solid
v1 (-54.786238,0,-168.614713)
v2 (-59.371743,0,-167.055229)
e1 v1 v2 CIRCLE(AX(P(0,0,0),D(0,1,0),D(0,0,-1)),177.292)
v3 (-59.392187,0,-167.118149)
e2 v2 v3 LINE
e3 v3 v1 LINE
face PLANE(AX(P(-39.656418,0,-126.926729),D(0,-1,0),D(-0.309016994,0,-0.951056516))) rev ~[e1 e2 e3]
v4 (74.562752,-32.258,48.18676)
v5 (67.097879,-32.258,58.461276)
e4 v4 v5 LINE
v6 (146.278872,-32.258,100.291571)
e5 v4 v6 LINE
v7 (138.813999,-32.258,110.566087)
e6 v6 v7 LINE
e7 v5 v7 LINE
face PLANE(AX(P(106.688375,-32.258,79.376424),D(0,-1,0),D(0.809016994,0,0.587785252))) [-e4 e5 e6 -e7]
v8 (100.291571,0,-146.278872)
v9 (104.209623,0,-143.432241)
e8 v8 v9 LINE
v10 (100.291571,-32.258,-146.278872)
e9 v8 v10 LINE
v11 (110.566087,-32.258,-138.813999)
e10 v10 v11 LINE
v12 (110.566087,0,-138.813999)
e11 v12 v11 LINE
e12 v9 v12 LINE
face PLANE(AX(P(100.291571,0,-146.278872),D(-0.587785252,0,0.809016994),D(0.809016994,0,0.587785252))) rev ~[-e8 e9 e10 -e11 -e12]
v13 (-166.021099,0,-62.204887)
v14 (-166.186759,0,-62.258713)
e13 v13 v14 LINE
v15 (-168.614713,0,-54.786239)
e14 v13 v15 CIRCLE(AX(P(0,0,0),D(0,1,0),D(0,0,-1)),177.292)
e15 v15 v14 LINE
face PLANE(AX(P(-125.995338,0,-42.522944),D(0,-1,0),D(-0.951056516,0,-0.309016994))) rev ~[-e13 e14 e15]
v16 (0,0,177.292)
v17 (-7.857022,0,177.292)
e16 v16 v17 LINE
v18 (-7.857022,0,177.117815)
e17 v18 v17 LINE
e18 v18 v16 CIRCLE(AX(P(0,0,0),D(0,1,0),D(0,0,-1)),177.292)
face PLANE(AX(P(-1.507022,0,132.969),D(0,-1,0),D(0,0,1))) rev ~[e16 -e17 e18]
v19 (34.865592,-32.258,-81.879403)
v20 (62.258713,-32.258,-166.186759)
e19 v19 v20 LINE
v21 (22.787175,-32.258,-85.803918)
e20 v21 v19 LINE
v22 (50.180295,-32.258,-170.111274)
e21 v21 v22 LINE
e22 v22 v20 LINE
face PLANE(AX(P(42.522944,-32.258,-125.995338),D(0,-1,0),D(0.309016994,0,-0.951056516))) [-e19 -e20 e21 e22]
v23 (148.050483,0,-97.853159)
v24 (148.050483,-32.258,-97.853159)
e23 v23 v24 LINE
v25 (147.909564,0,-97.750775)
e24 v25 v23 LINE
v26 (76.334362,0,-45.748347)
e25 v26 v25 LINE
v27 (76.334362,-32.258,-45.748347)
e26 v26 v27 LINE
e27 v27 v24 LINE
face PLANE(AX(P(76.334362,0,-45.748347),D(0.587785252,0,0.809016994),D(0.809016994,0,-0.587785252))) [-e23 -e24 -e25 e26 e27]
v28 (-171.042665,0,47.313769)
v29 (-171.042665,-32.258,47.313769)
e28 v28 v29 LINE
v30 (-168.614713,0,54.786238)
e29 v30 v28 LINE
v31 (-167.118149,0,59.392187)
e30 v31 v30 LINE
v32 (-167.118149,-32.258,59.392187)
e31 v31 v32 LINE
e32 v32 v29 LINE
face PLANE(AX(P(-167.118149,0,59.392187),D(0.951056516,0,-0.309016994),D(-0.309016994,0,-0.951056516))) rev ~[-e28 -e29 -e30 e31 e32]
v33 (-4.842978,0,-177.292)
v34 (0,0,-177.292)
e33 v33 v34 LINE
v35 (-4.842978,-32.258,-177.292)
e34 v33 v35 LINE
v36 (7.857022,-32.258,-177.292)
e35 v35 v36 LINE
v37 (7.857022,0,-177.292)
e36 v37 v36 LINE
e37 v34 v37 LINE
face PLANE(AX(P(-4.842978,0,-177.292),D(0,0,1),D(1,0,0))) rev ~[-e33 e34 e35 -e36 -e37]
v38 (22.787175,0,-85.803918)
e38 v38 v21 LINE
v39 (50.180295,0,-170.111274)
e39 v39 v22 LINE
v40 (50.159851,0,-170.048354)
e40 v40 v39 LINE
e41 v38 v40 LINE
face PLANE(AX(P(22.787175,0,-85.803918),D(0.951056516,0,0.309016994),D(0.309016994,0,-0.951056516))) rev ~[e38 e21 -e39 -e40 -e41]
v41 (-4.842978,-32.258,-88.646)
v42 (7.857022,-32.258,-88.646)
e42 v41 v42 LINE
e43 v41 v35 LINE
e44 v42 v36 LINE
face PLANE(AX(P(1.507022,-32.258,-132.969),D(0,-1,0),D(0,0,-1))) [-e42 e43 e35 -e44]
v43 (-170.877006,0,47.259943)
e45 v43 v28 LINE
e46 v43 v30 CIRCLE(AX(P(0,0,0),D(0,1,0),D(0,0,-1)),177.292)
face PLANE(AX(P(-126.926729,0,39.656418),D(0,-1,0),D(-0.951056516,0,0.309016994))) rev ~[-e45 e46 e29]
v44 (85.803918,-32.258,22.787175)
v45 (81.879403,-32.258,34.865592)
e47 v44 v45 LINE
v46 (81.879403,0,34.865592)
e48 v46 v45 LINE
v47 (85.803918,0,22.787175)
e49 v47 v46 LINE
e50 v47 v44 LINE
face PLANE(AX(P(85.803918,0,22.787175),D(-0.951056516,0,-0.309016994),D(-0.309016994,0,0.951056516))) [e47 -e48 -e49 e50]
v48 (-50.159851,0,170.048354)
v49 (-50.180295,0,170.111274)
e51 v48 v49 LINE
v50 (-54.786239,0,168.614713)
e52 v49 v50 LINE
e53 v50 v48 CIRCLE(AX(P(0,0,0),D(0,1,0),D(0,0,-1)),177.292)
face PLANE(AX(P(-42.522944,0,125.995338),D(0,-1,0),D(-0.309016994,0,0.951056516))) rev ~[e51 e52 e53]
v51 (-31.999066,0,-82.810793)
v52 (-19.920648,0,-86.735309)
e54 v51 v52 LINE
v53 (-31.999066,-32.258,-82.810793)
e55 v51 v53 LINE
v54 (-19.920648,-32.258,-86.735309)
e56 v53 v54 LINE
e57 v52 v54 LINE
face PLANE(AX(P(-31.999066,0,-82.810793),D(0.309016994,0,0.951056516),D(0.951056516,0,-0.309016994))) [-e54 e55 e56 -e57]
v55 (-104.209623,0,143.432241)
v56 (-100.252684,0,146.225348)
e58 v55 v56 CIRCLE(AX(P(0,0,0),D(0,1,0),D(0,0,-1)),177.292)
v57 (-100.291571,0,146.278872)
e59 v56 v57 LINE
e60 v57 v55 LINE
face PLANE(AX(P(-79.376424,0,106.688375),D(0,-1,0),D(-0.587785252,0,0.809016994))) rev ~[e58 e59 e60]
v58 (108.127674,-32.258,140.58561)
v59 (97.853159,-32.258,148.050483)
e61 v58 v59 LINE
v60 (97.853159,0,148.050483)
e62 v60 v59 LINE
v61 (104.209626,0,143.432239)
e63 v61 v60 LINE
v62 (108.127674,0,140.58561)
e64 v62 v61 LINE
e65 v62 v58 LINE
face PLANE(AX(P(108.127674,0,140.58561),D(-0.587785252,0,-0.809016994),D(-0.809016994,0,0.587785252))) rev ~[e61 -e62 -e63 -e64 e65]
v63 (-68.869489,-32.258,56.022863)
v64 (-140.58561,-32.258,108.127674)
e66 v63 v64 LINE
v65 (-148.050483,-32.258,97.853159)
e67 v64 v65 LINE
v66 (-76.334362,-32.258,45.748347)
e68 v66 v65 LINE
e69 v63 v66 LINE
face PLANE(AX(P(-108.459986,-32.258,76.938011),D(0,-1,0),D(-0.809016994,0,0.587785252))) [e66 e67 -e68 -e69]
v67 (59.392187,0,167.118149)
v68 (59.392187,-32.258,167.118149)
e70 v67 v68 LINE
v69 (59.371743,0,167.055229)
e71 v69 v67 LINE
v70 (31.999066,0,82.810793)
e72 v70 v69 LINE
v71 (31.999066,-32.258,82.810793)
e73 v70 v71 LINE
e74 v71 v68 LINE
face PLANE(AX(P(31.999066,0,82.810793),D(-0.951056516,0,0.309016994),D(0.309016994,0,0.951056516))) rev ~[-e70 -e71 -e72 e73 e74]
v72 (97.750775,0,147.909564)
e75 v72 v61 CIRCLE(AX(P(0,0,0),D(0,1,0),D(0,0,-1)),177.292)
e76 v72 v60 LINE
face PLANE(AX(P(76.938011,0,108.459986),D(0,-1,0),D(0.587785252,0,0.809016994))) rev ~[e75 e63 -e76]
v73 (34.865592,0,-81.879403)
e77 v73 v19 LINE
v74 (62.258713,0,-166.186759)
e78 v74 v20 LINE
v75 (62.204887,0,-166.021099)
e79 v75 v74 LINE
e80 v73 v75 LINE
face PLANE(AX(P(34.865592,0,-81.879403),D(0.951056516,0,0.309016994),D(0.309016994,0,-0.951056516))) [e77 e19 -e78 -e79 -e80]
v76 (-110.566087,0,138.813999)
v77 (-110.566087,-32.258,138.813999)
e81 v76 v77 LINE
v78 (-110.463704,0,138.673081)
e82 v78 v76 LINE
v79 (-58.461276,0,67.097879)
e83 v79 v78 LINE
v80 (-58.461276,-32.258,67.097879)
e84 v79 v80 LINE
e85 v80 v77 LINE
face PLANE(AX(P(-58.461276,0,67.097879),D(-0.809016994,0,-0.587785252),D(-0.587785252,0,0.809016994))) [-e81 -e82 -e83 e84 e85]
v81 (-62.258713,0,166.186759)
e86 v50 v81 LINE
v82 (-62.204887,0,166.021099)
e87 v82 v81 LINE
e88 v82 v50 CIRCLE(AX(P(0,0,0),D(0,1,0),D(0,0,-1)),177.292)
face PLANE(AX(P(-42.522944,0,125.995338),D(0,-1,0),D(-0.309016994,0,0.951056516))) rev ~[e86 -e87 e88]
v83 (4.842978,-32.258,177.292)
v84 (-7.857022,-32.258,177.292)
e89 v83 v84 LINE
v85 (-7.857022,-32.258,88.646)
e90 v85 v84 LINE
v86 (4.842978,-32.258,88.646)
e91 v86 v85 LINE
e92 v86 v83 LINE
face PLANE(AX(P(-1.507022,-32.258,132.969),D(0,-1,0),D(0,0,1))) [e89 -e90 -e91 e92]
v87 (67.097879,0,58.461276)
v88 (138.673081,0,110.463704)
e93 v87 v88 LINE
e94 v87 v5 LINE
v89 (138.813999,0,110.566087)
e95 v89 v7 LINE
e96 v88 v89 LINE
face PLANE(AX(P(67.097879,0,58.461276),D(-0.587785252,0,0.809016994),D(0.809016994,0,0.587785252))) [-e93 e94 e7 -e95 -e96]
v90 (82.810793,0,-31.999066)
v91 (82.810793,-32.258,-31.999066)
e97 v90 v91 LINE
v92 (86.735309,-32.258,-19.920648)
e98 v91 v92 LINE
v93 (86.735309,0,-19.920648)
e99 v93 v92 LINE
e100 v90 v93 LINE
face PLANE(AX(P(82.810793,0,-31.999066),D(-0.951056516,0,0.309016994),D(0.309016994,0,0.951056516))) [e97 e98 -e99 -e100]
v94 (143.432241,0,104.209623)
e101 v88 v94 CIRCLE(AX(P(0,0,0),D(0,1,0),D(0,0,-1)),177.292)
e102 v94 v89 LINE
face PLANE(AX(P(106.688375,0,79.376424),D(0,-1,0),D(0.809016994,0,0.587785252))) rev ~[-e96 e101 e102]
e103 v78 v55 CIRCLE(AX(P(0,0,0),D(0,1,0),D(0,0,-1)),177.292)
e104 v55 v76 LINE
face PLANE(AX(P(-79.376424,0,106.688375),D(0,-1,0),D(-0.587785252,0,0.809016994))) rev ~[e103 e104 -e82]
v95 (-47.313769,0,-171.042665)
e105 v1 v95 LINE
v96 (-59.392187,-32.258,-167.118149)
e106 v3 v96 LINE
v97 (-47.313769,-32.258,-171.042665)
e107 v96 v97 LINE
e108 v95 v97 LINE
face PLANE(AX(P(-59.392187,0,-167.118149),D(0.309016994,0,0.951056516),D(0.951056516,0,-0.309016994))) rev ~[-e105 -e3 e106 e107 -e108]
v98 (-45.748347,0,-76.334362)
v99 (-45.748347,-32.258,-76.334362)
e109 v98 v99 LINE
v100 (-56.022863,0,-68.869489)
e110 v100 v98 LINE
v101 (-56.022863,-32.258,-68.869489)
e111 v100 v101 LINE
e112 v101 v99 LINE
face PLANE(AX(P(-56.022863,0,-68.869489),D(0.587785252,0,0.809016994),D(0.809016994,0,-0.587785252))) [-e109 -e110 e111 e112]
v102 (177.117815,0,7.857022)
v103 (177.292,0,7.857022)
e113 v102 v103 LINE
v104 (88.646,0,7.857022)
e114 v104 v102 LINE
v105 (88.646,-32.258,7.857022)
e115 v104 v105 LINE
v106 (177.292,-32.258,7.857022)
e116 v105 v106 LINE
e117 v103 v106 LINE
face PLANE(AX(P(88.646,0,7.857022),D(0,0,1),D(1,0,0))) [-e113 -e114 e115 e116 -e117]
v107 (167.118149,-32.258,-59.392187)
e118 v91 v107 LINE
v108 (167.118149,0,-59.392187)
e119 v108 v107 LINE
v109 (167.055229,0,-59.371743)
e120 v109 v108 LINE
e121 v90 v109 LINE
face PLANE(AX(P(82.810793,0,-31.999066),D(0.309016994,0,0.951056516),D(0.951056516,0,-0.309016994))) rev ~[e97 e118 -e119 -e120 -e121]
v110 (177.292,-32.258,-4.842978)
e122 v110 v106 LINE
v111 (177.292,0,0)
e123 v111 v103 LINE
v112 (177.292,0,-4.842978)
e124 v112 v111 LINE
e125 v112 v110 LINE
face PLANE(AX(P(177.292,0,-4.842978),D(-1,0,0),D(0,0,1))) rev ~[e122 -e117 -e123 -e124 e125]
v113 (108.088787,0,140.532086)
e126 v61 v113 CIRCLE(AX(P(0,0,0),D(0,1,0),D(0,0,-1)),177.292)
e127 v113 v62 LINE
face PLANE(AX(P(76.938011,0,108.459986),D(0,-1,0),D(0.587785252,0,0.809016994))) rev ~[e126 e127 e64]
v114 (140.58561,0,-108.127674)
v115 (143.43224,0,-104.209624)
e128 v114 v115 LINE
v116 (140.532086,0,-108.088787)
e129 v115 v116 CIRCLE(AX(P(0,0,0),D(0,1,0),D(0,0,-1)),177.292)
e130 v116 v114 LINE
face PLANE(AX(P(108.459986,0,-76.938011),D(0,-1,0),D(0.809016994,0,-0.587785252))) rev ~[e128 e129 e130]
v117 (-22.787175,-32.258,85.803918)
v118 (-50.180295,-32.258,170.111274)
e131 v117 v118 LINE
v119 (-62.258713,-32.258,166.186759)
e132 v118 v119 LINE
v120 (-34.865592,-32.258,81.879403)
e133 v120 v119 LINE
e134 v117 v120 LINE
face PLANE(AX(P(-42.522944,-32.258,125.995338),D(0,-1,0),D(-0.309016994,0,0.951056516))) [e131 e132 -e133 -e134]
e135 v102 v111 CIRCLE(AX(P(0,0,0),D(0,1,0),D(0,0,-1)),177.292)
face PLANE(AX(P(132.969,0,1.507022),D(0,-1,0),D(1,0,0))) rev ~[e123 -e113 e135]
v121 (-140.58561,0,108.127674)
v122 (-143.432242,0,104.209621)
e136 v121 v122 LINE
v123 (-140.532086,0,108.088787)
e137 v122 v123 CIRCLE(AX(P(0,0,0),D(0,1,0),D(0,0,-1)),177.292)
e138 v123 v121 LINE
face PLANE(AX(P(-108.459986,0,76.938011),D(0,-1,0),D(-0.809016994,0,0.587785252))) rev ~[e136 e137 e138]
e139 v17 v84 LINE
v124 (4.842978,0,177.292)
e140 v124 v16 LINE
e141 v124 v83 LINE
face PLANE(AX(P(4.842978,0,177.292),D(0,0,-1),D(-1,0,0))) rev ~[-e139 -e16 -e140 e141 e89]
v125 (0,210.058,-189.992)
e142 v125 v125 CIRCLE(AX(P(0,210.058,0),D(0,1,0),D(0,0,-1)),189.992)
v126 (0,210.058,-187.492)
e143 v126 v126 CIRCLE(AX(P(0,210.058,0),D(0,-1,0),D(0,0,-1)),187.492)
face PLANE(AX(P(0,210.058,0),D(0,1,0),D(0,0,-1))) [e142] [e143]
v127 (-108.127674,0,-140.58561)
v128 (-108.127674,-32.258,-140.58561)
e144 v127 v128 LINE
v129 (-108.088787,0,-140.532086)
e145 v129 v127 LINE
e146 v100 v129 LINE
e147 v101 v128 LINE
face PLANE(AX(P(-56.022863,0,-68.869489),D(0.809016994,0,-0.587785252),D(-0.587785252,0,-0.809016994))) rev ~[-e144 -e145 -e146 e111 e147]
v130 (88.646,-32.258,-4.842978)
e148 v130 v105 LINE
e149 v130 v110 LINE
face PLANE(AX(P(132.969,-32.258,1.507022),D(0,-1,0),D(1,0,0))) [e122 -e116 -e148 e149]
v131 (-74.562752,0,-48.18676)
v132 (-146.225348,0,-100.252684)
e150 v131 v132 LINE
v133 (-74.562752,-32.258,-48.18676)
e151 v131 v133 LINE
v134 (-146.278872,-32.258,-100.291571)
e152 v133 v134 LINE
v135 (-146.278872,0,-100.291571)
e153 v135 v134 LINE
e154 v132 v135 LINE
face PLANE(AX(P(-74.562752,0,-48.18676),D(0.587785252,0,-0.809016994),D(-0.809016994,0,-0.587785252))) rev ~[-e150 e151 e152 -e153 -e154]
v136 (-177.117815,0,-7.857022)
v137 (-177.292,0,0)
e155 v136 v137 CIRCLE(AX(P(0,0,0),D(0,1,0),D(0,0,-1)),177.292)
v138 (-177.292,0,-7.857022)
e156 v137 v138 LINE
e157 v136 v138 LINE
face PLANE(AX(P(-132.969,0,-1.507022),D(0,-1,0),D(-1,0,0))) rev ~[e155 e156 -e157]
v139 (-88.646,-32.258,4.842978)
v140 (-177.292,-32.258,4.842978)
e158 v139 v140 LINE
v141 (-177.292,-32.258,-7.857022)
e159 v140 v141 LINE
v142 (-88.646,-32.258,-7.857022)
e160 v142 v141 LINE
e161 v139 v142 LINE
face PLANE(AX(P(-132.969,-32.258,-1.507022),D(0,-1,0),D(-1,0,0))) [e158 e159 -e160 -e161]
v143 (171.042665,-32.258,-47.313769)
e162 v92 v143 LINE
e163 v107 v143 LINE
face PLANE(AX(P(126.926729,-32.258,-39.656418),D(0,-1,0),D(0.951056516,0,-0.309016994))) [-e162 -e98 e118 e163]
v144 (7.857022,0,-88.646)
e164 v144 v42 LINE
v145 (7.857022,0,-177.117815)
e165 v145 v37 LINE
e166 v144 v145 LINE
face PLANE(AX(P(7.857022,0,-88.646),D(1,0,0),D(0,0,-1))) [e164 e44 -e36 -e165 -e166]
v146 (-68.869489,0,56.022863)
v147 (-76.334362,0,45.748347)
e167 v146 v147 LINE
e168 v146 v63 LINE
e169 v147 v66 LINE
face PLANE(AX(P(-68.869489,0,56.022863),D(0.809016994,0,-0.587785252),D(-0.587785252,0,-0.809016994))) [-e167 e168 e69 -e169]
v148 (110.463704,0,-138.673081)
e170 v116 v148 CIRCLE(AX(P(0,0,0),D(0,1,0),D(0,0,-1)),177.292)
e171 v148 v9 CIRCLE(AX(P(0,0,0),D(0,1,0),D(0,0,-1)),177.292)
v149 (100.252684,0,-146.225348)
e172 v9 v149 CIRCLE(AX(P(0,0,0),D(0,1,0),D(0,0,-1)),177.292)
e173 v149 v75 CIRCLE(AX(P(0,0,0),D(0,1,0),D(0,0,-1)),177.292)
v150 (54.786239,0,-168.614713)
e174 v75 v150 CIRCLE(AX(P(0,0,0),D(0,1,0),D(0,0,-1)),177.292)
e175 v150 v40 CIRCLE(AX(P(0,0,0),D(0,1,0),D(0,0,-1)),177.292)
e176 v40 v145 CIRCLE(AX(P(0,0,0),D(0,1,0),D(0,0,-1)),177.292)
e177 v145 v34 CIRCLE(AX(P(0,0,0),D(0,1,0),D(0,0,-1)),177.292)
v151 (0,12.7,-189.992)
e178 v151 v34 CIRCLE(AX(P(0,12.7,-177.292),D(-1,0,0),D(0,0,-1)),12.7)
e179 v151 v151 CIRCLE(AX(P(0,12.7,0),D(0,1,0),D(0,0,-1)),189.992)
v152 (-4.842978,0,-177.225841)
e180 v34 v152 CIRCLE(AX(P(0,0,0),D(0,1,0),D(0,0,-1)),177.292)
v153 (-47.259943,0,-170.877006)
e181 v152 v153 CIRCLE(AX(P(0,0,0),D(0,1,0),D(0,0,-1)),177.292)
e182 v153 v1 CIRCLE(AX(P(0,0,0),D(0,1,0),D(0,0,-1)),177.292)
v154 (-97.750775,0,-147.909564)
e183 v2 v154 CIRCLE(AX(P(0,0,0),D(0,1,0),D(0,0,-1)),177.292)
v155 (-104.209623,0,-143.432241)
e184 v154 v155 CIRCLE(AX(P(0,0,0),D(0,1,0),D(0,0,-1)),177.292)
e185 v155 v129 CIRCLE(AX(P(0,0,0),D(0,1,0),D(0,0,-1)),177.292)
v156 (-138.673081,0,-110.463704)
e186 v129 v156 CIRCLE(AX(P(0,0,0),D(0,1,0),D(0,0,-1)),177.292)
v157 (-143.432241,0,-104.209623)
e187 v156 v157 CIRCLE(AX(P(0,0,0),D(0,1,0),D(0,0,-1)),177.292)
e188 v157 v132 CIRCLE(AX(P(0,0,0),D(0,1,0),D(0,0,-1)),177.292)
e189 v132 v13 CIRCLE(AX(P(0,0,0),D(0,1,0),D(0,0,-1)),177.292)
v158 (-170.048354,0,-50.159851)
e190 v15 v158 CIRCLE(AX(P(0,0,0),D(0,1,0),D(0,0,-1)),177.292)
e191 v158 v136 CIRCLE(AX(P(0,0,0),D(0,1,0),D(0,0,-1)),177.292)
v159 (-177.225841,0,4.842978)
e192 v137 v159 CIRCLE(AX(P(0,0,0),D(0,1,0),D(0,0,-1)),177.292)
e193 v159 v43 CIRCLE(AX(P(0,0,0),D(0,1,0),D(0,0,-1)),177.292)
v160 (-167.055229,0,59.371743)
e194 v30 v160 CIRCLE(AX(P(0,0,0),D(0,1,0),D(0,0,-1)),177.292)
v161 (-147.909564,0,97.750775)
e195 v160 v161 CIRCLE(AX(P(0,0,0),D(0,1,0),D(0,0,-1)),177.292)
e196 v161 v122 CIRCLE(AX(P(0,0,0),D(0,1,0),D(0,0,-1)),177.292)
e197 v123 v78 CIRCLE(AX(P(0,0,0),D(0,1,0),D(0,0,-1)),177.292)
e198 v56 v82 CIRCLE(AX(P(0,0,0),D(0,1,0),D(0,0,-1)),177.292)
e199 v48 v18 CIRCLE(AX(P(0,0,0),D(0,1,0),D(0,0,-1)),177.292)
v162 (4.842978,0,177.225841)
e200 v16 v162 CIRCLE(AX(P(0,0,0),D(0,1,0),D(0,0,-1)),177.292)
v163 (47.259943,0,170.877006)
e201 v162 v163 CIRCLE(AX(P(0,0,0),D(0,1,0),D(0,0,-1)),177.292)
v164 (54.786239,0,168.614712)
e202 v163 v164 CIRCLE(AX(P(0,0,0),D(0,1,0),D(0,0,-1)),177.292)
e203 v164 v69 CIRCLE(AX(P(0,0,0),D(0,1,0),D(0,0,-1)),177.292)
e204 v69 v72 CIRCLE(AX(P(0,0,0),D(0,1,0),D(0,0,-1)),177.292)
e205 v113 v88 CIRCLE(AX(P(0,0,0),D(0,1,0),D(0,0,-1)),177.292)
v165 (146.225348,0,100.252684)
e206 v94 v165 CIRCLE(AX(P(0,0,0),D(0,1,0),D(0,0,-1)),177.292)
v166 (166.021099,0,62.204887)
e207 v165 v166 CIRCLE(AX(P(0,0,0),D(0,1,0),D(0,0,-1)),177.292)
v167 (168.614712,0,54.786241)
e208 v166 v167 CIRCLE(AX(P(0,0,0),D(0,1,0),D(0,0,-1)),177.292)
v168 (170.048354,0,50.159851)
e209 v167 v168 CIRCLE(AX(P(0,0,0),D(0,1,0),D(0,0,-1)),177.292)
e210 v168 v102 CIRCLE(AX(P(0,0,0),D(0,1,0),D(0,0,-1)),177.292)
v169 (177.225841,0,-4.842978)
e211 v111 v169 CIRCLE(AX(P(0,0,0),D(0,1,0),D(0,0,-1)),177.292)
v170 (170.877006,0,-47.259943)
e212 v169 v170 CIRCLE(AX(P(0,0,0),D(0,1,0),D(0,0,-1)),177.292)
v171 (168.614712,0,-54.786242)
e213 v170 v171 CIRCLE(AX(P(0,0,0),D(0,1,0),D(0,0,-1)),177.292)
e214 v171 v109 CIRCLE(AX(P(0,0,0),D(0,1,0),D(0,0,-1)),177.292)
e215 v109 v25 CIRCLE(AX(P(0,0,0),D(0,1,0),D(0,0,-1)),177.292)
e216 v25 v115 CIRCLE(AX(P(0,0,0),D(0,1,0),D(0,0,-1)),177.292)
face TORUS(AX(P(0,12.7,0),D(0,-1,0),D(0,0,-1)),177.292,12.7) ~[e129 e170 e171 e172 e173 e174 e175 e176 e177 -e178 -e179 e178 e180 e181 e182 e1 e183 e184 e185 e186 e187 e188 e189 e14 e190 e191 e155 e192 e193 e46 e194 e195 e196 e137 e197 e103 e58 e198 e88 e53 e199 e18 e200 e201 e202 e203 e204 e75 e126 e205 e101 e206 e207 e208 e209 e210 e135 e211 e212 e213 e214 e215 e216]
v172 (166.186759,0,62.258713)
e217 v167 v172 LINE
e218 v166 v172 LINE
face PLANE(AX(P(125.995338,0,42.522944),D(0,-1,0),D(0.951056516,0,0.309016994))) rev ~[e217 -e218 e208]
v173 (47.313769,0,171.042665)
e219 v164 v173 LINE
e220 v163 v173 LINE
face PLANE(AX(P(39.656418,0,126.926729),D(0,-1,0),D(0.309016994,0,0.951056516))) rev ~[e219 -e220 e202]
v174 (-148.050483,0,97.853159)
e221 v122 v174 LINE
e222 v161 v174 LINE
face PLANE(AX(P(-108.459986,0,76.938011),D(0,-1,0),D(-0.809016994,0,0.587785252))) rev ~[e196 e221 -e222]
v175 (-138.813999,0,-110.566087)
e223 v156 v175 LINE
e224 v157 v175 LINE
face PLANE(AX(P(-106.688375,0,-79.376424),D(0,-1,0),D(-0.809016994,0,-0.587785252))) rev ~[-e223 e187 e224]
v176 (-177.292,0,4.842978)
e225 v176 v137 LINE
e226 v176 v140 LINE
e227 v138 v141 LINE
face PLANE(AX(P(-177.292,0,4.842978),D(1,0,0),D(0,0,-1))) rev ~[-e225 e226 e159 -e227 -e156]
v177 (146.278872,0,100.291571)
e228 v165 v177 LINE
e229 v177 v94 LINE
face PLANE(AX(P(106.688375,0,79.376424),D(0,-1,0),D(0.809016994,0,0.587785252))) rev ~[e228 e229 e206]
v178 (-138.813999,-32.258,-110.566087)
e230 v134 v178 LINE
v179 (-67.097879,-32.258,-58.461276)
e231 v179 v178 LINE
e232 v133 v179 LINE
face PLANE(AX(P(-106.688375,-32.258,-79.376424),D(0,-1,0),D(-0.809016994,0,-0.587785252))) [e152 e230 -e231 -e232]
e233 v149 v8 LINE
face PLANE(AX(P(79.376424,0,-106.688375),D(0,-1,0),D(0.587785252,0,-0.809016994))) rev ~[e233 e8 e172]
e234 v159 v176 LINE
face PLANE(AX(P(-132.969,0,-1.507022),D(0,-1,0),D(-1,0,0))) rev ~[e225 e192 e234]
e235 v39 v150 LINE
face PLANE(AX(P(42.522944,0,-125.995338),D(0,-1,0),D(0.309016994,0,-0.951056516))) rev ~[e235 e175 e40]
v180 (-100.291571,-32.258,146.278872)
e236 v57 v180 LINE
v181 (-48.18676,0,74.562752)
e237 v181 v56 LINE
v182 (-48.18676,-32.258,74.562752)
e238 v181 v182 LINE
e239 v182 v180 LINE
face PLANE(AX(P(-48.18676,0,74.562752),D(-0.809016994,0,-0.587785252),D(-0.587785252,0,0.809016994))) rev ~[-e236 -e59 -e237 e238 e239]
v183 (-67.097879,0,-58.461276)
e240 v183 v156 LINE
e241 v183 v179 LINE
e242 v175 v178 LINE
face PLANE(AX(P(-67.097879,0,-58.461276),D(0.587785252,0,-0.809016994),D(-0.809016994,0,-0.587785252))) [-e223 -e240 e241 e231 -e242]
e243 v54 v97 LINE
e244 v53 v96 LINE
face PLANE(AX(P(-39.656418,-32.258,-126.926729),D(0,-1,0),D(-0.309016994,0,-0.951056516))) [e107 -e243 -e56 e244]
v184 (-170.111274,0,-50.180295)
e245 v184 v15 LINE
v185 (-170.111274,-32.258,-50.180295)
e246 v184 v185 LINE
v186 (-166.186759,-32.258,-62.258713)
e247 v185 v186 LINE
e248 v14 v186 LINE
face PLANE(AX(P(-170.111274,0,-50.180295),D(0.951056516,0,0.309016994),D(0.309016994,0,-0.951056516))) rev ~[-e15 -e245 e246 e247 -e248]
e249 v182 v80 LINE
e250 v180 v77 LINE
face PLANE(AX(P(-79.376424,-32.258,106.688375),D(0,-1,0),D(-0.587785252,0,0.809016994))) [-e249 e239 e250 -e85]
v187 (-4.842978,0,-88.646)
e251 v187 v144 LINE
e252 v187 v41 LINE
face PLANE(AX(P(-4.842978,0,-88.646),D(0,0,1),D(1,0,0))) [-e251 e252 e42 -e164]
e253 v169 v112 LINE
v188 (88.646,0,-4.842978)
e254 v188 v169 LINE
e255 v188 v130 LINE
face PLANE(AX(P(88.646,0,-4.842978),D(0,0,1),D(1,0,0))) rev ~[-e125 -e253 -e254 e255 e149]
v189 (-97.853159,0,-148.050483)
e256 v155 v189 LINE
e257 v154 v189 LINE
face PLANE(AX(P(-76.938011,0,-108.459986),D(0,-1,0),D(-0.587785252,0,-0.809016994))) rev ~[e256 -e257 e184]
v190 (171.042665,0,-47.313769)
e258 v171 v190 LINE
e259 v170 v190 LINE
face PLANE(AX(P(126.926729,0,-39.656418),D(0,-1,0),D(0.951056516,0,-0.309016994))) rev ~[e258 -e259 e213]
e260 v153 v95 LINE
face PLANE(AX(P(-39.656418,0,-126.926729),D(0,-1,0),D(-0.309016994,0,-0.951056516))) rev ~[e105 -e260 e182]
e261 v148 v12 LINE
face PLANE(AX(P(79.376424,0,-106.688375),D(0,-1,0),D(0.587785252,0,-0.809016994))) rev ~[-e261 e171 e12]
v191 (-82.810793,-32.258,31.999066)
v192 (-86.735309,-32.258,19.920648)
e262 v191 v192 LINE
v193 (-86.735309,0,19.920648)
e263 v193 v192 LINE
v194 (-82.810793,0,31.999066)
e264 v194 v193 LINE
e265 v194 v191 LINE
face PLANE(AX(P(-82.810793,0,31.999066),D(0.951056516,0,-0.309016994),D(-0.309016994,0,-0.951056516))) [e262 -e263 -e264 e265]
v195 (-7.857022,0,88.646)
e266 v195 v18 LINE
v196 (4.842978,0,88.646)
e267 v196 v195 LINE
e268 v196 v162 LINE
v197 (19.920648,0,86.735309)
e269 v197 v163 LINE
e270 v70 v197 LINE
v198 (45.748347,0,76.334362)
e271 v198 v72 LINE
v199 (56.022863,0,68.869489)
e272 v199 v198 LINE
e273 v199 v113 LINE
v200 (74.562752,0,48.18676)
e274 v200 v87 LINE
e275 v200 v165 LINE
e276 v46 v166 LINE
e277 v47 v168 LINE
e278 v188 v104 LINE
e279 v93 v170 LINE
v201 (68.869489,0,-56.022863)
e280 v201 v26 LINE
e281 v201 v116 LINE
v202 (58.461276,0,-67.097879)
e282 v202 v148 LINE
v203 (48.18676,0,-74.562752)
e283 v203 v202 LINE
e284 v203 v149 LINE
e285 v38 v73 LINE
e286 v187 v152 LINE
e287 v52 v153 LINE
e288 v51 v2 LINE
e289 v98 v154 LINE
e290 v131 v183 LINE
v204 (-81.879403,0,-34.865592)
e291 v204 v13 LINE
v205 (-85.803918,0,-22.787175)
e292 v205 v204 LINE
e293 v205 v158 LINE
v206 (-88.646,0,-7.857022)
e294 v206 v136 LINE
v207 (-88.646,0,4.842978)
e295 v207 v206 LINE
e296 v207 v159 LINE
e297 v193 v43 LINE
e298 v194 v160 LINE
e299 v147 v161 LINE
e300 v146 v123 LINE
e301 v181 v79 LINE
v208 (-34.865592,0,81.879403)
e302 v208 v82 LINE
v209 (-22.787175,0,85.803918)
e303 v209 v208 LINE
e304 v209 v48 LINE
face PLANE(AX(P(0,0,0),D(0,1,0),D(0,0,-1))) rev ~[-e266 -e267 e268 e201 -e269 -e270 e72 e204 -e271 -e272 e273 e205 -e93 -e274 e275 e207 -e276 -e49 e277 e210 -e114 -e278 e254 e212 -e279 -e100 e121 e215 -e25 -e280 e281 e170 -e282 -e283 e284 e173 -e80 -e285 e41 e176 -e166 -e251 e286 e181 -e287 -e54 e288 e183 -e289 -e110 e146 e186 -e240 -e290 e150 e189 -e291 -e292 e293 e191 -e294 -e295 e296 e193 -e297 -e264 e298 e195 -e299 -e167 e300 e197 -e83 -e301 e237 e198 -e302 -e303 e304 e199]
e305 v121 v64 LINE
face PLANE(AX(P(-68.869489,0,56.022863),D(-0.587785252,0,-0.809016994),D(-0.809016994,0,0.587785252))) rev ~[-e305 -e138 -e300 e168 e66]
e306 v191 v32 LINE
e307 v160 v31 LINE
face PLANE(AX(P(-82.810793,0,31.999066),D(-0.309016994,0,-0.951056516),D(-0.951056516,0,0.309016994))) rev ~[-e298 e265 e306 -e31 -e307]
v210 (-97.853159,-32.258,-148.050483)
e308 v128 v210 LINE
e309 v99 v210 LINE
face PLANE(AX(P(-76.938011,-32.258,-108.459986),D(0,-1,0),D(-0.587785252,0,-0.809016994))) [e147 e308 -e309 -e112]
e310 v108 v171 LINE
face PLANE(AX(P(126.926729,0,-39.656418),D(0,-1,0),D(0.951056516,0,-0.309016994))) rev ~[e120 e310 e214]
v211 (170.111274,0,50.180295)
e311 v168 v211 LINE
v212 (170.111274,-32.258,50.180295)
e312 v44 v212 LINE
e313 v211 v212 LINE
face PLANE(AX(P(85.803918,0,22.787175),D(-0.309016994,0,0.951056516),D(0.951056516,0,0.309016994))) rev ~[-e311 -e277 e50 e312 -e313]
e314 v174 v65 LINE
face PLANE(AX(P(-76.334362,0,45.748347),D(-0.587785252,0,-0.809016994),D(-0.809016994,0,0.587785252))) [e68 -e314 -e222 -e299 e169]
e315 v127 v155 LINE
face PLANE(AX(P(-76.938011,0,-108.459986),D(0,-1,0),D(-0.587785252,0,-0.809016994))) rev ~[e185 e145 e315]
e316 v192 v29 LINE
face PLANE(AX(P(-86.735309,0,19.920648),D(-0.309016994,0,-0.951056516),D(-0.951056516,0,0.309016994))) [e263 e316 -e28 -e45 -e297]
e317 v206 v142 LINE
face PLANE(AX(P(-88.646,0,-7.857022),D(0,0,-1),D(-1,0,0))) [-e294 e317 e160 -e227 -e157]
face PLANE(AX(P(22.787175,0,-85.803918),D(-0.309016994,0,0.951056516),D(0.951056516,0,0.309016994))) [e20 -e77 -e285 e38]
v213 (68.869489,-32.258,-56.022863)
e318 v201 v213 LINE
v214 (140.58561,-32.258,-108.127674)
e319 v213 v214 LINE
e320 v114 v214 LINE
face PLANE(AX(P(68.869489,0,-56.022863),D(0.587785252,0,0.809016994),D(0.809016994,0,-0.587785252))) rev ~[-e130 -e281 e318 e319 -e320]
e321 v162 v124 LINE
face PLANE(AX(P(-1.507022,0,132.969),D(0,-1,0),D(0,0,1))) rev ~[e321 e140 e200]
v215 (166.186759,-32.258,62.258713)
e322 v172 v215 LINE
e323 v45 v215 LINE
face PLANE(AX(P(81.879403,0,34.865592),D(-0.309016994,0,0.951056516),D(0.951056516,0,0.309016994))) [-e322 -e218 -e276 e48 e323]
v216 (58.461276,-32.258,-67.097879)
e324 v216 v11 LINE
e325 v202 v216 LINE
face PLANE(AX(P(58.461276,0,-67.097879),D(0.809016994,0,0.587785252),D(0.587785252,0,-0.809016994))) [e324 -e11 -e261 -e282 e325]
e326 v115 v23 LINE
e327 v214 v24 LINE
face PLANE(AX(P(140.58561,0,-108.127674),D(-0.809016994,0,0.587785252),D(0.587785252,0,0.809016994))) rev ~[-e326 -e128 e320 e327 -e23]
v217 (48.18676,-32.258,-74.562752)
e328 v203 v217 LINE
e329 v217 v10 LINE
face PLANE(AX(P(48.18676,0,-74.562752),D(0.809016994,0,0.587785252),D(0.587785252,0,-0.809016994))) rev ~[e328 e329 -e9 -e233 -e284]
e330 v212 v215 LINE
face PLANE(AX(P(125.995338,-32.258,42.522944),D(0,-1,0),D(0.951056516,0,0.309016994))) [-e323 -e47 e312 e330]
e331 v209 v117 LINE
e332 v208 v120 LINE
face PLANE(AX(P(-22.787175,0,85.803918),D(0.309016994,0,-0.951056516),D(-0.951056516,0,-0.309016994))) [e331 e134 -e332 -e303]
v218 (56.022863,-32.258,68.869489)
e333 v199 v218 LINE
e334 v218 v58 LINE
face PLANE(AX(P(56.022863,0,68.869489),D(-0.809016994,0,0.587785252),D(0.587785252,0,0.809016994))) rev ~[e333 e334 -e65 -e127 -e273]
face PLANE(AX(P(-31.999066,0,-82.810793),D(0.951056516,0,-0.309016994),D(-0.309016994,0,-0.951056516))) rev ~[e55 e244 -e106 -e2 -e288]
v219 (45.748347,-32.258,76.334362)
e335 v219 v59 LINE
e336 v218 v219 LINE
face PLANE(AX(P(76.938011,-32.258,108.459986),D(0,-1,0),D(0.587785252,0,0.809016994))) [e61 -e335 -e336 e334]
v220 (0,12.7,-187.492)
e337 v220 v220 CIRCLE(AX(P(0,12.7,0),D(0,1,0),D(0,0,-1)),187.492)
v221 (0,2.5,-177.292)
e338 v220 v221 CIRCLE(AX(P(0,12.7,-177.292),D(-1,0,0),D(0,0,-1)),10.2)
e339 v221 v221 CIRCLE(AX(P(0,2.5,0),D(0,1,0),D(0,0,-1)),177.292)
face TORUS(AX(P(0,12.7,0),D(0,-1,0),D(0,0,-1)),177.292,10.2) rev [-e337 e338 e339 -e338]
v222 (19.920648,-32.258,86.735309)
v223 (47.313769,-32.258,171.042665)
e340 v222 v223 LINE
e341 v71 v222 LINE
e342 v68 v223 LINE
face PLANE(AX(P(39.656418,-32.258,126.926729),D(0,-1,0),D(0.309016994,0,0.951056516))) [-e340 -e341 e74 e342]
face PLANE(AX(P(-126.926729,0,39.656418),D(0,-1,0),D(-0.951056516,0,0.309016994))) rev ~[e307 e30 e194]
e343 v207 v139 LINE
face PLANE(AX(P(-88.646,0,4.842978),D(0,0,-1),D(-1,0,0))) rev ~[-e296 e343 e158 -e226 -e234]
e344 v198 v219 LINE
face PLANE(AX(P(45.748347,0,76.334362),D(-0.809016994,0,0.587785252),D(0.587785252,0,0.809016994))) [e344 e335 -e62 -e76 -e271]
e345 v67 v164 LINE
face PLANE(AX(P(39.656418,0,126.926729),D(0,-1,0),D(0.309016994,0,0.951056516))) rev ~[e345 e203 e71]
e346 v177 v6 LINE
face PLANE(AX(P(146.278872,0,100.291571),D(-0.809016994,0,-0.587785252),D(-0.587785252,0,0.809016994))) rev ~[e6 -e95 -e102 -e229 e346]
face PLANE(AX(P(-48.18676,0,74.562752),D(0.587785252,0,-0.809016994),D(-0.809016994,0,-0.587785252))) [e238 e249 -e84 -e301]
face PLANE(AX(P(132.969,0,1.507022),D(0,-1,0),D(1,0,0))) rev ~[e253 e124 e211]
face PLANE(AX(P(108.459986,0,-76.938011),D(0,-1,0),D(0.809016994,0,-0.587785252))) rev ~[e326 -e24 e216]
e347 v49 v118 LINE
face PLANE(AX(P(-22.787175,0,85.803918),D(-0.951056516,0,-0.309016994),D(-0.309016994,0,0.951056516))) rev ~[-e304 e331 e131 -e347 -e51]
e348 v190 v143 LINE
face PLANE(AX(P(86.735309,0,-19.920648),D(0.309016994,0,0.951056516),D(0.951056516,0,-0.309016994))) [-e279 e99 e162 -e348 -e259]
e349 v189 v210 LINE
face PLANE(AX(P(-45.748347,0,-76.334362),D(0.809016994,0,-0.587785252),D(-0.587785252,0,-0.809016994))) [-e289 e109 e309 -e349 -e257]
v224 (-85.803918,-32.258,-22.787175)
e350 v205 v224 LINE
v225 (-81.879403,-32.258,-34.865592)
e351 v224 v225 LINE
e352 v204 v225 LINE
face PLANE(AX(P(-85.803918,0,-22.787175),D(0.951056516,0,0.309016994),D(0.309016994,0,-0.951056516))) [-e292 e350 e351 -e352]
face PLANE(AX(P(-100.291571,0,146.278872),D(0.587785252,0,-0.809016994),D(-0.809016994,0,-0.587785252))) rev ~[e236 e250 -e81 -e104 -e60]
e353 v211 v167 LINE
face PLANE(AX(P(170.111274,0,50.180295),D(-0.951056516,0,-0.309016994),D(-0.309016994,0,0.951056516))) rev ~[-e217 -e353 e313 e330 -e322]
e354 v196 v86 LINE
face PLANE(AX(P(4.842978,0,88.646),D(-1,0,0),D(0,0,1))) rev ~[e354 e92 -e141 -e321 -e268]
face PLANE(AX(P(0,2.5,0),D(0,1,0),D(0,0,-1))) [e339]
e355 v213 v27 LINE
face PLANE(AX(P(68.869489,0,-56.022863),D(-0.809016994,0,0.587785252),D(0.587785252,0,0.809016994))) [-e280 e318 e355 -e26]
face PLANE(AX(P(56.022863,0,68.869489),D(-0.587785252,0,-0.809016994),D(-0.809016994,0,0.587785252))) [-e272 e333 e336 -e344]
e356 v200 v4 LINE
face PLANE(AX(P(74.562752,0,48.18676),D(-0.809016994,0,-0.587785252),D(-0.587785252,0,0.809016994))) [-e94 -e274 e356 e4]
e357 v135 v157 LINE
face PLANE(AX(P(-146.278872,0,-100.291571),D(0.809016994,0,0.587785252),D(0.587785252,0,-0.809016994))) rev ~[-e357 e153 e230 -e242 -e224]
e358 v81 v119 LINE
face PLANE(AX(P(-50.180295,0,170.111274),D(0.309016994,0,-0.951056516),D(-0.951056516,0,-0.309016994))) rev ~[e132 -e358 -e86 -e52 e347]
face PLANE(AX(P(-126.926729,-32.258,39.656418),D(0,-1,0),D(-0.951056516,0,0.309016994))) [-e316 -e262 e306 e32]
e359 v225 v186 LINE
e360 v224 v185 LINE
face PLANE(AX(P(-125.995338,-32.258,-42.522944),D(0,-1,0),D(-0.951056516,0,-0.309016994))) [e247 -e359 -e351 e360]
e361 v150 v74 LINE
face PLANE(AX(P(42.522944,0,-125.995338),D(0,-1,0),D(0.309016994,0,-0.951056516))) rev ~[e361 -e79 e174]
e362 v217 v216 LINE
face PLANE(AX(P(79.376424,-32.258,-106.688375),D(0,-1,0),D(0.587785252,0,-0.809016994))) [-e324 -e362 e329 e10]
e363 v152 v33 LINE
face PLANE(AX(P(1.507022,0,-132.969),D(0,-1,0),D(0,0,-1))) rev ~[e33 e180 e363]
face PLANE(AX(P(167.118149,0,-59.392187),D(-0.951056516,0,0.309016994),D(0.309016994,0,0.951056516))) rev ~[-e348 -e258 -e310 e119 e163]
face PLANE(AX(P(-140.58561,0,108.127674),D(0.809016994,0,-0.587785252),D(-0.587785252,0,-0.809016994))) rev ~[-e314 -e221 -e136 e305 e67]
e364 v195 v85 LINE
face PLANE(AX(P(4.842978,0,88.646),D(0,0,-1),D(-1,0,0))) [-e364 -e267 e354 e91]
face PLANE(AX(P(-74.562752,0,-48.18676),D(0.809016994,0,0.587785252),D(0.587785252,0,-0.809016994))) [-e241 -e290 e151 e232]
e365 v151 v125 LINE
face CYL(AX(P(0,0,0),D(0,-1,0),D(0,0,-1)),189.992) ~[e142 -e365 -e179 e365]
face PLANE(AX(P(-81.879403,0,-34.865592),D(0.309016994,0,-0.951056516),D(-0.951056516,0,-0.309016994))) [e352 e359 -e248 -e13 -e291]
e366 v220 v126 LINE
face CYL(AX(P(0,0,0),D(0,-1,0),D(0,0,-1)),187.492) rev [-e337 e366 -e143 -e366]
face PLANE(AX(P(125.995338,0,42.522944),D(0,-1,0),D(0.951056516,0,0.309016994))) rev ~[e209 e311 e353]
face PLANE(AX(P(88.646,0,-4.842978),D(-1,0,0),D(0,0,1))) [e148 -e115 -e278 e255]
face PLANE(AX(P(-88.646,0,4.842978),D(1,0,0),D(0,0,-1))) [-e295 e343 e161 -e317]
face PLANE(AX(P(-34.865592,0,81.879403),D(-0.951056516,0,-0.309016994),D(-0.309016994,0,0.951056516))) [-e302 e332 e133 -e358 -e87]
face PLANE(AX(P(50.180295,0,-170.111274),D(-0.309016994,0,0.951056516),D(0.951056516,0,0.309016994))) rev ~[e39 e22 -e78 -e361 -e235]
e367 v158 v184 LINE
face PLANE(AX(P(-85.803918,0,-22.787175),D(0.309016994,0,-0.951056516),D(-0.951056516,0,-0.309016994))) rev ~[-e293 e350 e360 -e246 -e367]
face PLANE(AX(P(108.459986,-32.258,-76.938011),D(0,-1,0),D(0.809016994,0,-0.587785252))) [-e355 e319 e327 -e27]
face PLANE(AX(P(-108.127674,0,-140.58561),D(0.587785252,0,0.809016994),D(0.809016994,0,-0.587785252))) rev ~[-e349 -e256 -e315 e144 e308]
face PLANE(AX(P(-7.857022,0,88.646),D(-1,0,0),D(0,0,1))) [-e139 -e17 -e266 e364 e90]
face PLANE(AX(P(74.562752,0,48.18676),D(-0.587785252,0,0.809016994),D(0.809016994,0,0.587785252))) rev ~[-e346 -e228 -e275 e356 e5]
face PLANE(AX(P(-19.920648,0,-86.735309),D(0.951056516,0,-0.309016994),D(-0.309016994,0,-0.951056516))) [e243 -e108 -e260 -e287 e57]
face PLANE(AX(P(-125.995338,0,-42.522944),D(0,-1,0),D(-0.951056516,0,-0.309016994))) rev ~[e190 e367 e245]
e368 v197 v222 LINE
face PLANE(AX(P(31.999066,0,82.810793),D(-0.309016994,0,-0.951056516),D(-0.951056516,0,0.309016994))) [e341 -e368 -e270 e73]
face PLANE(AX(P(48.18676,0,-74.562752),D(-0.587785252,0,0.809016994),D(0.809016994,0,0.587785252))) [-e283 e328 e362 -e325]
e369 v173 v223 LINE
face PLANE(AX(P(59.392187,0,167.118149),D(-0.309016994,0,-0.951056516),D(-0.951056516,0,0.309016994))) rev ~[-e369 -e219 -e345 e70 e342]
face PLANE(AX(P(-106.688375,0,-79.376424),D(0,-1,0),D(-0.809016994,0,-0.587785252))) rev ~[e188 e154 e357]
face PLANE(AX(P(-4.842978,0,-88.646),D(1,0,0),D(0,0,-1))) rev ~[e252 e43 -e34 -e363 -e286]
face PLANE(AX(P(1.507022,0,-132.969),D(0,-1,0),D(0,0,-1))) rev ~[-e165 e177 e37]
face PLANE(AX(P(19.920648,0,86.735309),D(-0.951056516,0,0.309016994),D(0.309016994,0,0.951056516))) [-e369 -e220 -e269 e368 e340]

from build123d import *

# Parameters (mm, degrees)
SKETCH1_R           = 189.992
BOSS_EXTRUDE1_DEPTH = 210.058
FILLET1_R           = 12.7
SHELL1_T            = -2.5
SKETCH2_W           = 88.646
SKETCH2_H           = 12.7
BOSS_EXTRUDE2_DEPTH = 32.258
CIRPATTERN1_COUNT   = 20


with BuildPart() as part:
    # Sketch1 → Boss-Extrude1 (new body)
    with BuildSketch(Plane(origin=(0, 0, 0), x_dir=(1, 0, 0), z_dir=(0, 1, 0))):
        Circle(SKETCH1_R)
    extrude(amount=BOSS_EXTRUDE1_DEPTH)

    # Fillet1
    fillet1_edges = [part.edges().sort_by_distance(p)[0] for p in [
        (-189.992, 0, 0),
    ]]
    fillet(fillet1_edges, radius=FILLET1_R)

    # Shell1
    shell1_openings = [part.faces().sort_by_distance(p)[0] for p in [
        (0, 210.058, 0),
    ]]
    offset(amount=SHELL1_T, openings=shell1_openings, kind=Kind.INTERSECTION)

    # Sketch2 → Boss-Extrude2 (add)
    with BuildSketch(Plane(origin=(0, 0, 0), x_dir=(-1, 0, 0), z_dir=(0, -1, 0))):
        with Locations((132.969, 1.507022024)):
            Rectangle(SKETCH2_W, SKETCH2_H)
    boss_extrude2 = extrude(amount=BOSS_EXTRUDE2_DEPTH)

    # CirPattern1: Boss-Extrude2 ×20 about axis
    cirpattern1_axis = Axis((0, 210.058, 0), (0, -1, 0))
    for i in range(1, CIRPATTERN1_COUNT):
        add(boss_extrude2.rotate(cirpattern1_axis, i * 360 / CIRPATTERN1_COUNT))


solid = part.part
